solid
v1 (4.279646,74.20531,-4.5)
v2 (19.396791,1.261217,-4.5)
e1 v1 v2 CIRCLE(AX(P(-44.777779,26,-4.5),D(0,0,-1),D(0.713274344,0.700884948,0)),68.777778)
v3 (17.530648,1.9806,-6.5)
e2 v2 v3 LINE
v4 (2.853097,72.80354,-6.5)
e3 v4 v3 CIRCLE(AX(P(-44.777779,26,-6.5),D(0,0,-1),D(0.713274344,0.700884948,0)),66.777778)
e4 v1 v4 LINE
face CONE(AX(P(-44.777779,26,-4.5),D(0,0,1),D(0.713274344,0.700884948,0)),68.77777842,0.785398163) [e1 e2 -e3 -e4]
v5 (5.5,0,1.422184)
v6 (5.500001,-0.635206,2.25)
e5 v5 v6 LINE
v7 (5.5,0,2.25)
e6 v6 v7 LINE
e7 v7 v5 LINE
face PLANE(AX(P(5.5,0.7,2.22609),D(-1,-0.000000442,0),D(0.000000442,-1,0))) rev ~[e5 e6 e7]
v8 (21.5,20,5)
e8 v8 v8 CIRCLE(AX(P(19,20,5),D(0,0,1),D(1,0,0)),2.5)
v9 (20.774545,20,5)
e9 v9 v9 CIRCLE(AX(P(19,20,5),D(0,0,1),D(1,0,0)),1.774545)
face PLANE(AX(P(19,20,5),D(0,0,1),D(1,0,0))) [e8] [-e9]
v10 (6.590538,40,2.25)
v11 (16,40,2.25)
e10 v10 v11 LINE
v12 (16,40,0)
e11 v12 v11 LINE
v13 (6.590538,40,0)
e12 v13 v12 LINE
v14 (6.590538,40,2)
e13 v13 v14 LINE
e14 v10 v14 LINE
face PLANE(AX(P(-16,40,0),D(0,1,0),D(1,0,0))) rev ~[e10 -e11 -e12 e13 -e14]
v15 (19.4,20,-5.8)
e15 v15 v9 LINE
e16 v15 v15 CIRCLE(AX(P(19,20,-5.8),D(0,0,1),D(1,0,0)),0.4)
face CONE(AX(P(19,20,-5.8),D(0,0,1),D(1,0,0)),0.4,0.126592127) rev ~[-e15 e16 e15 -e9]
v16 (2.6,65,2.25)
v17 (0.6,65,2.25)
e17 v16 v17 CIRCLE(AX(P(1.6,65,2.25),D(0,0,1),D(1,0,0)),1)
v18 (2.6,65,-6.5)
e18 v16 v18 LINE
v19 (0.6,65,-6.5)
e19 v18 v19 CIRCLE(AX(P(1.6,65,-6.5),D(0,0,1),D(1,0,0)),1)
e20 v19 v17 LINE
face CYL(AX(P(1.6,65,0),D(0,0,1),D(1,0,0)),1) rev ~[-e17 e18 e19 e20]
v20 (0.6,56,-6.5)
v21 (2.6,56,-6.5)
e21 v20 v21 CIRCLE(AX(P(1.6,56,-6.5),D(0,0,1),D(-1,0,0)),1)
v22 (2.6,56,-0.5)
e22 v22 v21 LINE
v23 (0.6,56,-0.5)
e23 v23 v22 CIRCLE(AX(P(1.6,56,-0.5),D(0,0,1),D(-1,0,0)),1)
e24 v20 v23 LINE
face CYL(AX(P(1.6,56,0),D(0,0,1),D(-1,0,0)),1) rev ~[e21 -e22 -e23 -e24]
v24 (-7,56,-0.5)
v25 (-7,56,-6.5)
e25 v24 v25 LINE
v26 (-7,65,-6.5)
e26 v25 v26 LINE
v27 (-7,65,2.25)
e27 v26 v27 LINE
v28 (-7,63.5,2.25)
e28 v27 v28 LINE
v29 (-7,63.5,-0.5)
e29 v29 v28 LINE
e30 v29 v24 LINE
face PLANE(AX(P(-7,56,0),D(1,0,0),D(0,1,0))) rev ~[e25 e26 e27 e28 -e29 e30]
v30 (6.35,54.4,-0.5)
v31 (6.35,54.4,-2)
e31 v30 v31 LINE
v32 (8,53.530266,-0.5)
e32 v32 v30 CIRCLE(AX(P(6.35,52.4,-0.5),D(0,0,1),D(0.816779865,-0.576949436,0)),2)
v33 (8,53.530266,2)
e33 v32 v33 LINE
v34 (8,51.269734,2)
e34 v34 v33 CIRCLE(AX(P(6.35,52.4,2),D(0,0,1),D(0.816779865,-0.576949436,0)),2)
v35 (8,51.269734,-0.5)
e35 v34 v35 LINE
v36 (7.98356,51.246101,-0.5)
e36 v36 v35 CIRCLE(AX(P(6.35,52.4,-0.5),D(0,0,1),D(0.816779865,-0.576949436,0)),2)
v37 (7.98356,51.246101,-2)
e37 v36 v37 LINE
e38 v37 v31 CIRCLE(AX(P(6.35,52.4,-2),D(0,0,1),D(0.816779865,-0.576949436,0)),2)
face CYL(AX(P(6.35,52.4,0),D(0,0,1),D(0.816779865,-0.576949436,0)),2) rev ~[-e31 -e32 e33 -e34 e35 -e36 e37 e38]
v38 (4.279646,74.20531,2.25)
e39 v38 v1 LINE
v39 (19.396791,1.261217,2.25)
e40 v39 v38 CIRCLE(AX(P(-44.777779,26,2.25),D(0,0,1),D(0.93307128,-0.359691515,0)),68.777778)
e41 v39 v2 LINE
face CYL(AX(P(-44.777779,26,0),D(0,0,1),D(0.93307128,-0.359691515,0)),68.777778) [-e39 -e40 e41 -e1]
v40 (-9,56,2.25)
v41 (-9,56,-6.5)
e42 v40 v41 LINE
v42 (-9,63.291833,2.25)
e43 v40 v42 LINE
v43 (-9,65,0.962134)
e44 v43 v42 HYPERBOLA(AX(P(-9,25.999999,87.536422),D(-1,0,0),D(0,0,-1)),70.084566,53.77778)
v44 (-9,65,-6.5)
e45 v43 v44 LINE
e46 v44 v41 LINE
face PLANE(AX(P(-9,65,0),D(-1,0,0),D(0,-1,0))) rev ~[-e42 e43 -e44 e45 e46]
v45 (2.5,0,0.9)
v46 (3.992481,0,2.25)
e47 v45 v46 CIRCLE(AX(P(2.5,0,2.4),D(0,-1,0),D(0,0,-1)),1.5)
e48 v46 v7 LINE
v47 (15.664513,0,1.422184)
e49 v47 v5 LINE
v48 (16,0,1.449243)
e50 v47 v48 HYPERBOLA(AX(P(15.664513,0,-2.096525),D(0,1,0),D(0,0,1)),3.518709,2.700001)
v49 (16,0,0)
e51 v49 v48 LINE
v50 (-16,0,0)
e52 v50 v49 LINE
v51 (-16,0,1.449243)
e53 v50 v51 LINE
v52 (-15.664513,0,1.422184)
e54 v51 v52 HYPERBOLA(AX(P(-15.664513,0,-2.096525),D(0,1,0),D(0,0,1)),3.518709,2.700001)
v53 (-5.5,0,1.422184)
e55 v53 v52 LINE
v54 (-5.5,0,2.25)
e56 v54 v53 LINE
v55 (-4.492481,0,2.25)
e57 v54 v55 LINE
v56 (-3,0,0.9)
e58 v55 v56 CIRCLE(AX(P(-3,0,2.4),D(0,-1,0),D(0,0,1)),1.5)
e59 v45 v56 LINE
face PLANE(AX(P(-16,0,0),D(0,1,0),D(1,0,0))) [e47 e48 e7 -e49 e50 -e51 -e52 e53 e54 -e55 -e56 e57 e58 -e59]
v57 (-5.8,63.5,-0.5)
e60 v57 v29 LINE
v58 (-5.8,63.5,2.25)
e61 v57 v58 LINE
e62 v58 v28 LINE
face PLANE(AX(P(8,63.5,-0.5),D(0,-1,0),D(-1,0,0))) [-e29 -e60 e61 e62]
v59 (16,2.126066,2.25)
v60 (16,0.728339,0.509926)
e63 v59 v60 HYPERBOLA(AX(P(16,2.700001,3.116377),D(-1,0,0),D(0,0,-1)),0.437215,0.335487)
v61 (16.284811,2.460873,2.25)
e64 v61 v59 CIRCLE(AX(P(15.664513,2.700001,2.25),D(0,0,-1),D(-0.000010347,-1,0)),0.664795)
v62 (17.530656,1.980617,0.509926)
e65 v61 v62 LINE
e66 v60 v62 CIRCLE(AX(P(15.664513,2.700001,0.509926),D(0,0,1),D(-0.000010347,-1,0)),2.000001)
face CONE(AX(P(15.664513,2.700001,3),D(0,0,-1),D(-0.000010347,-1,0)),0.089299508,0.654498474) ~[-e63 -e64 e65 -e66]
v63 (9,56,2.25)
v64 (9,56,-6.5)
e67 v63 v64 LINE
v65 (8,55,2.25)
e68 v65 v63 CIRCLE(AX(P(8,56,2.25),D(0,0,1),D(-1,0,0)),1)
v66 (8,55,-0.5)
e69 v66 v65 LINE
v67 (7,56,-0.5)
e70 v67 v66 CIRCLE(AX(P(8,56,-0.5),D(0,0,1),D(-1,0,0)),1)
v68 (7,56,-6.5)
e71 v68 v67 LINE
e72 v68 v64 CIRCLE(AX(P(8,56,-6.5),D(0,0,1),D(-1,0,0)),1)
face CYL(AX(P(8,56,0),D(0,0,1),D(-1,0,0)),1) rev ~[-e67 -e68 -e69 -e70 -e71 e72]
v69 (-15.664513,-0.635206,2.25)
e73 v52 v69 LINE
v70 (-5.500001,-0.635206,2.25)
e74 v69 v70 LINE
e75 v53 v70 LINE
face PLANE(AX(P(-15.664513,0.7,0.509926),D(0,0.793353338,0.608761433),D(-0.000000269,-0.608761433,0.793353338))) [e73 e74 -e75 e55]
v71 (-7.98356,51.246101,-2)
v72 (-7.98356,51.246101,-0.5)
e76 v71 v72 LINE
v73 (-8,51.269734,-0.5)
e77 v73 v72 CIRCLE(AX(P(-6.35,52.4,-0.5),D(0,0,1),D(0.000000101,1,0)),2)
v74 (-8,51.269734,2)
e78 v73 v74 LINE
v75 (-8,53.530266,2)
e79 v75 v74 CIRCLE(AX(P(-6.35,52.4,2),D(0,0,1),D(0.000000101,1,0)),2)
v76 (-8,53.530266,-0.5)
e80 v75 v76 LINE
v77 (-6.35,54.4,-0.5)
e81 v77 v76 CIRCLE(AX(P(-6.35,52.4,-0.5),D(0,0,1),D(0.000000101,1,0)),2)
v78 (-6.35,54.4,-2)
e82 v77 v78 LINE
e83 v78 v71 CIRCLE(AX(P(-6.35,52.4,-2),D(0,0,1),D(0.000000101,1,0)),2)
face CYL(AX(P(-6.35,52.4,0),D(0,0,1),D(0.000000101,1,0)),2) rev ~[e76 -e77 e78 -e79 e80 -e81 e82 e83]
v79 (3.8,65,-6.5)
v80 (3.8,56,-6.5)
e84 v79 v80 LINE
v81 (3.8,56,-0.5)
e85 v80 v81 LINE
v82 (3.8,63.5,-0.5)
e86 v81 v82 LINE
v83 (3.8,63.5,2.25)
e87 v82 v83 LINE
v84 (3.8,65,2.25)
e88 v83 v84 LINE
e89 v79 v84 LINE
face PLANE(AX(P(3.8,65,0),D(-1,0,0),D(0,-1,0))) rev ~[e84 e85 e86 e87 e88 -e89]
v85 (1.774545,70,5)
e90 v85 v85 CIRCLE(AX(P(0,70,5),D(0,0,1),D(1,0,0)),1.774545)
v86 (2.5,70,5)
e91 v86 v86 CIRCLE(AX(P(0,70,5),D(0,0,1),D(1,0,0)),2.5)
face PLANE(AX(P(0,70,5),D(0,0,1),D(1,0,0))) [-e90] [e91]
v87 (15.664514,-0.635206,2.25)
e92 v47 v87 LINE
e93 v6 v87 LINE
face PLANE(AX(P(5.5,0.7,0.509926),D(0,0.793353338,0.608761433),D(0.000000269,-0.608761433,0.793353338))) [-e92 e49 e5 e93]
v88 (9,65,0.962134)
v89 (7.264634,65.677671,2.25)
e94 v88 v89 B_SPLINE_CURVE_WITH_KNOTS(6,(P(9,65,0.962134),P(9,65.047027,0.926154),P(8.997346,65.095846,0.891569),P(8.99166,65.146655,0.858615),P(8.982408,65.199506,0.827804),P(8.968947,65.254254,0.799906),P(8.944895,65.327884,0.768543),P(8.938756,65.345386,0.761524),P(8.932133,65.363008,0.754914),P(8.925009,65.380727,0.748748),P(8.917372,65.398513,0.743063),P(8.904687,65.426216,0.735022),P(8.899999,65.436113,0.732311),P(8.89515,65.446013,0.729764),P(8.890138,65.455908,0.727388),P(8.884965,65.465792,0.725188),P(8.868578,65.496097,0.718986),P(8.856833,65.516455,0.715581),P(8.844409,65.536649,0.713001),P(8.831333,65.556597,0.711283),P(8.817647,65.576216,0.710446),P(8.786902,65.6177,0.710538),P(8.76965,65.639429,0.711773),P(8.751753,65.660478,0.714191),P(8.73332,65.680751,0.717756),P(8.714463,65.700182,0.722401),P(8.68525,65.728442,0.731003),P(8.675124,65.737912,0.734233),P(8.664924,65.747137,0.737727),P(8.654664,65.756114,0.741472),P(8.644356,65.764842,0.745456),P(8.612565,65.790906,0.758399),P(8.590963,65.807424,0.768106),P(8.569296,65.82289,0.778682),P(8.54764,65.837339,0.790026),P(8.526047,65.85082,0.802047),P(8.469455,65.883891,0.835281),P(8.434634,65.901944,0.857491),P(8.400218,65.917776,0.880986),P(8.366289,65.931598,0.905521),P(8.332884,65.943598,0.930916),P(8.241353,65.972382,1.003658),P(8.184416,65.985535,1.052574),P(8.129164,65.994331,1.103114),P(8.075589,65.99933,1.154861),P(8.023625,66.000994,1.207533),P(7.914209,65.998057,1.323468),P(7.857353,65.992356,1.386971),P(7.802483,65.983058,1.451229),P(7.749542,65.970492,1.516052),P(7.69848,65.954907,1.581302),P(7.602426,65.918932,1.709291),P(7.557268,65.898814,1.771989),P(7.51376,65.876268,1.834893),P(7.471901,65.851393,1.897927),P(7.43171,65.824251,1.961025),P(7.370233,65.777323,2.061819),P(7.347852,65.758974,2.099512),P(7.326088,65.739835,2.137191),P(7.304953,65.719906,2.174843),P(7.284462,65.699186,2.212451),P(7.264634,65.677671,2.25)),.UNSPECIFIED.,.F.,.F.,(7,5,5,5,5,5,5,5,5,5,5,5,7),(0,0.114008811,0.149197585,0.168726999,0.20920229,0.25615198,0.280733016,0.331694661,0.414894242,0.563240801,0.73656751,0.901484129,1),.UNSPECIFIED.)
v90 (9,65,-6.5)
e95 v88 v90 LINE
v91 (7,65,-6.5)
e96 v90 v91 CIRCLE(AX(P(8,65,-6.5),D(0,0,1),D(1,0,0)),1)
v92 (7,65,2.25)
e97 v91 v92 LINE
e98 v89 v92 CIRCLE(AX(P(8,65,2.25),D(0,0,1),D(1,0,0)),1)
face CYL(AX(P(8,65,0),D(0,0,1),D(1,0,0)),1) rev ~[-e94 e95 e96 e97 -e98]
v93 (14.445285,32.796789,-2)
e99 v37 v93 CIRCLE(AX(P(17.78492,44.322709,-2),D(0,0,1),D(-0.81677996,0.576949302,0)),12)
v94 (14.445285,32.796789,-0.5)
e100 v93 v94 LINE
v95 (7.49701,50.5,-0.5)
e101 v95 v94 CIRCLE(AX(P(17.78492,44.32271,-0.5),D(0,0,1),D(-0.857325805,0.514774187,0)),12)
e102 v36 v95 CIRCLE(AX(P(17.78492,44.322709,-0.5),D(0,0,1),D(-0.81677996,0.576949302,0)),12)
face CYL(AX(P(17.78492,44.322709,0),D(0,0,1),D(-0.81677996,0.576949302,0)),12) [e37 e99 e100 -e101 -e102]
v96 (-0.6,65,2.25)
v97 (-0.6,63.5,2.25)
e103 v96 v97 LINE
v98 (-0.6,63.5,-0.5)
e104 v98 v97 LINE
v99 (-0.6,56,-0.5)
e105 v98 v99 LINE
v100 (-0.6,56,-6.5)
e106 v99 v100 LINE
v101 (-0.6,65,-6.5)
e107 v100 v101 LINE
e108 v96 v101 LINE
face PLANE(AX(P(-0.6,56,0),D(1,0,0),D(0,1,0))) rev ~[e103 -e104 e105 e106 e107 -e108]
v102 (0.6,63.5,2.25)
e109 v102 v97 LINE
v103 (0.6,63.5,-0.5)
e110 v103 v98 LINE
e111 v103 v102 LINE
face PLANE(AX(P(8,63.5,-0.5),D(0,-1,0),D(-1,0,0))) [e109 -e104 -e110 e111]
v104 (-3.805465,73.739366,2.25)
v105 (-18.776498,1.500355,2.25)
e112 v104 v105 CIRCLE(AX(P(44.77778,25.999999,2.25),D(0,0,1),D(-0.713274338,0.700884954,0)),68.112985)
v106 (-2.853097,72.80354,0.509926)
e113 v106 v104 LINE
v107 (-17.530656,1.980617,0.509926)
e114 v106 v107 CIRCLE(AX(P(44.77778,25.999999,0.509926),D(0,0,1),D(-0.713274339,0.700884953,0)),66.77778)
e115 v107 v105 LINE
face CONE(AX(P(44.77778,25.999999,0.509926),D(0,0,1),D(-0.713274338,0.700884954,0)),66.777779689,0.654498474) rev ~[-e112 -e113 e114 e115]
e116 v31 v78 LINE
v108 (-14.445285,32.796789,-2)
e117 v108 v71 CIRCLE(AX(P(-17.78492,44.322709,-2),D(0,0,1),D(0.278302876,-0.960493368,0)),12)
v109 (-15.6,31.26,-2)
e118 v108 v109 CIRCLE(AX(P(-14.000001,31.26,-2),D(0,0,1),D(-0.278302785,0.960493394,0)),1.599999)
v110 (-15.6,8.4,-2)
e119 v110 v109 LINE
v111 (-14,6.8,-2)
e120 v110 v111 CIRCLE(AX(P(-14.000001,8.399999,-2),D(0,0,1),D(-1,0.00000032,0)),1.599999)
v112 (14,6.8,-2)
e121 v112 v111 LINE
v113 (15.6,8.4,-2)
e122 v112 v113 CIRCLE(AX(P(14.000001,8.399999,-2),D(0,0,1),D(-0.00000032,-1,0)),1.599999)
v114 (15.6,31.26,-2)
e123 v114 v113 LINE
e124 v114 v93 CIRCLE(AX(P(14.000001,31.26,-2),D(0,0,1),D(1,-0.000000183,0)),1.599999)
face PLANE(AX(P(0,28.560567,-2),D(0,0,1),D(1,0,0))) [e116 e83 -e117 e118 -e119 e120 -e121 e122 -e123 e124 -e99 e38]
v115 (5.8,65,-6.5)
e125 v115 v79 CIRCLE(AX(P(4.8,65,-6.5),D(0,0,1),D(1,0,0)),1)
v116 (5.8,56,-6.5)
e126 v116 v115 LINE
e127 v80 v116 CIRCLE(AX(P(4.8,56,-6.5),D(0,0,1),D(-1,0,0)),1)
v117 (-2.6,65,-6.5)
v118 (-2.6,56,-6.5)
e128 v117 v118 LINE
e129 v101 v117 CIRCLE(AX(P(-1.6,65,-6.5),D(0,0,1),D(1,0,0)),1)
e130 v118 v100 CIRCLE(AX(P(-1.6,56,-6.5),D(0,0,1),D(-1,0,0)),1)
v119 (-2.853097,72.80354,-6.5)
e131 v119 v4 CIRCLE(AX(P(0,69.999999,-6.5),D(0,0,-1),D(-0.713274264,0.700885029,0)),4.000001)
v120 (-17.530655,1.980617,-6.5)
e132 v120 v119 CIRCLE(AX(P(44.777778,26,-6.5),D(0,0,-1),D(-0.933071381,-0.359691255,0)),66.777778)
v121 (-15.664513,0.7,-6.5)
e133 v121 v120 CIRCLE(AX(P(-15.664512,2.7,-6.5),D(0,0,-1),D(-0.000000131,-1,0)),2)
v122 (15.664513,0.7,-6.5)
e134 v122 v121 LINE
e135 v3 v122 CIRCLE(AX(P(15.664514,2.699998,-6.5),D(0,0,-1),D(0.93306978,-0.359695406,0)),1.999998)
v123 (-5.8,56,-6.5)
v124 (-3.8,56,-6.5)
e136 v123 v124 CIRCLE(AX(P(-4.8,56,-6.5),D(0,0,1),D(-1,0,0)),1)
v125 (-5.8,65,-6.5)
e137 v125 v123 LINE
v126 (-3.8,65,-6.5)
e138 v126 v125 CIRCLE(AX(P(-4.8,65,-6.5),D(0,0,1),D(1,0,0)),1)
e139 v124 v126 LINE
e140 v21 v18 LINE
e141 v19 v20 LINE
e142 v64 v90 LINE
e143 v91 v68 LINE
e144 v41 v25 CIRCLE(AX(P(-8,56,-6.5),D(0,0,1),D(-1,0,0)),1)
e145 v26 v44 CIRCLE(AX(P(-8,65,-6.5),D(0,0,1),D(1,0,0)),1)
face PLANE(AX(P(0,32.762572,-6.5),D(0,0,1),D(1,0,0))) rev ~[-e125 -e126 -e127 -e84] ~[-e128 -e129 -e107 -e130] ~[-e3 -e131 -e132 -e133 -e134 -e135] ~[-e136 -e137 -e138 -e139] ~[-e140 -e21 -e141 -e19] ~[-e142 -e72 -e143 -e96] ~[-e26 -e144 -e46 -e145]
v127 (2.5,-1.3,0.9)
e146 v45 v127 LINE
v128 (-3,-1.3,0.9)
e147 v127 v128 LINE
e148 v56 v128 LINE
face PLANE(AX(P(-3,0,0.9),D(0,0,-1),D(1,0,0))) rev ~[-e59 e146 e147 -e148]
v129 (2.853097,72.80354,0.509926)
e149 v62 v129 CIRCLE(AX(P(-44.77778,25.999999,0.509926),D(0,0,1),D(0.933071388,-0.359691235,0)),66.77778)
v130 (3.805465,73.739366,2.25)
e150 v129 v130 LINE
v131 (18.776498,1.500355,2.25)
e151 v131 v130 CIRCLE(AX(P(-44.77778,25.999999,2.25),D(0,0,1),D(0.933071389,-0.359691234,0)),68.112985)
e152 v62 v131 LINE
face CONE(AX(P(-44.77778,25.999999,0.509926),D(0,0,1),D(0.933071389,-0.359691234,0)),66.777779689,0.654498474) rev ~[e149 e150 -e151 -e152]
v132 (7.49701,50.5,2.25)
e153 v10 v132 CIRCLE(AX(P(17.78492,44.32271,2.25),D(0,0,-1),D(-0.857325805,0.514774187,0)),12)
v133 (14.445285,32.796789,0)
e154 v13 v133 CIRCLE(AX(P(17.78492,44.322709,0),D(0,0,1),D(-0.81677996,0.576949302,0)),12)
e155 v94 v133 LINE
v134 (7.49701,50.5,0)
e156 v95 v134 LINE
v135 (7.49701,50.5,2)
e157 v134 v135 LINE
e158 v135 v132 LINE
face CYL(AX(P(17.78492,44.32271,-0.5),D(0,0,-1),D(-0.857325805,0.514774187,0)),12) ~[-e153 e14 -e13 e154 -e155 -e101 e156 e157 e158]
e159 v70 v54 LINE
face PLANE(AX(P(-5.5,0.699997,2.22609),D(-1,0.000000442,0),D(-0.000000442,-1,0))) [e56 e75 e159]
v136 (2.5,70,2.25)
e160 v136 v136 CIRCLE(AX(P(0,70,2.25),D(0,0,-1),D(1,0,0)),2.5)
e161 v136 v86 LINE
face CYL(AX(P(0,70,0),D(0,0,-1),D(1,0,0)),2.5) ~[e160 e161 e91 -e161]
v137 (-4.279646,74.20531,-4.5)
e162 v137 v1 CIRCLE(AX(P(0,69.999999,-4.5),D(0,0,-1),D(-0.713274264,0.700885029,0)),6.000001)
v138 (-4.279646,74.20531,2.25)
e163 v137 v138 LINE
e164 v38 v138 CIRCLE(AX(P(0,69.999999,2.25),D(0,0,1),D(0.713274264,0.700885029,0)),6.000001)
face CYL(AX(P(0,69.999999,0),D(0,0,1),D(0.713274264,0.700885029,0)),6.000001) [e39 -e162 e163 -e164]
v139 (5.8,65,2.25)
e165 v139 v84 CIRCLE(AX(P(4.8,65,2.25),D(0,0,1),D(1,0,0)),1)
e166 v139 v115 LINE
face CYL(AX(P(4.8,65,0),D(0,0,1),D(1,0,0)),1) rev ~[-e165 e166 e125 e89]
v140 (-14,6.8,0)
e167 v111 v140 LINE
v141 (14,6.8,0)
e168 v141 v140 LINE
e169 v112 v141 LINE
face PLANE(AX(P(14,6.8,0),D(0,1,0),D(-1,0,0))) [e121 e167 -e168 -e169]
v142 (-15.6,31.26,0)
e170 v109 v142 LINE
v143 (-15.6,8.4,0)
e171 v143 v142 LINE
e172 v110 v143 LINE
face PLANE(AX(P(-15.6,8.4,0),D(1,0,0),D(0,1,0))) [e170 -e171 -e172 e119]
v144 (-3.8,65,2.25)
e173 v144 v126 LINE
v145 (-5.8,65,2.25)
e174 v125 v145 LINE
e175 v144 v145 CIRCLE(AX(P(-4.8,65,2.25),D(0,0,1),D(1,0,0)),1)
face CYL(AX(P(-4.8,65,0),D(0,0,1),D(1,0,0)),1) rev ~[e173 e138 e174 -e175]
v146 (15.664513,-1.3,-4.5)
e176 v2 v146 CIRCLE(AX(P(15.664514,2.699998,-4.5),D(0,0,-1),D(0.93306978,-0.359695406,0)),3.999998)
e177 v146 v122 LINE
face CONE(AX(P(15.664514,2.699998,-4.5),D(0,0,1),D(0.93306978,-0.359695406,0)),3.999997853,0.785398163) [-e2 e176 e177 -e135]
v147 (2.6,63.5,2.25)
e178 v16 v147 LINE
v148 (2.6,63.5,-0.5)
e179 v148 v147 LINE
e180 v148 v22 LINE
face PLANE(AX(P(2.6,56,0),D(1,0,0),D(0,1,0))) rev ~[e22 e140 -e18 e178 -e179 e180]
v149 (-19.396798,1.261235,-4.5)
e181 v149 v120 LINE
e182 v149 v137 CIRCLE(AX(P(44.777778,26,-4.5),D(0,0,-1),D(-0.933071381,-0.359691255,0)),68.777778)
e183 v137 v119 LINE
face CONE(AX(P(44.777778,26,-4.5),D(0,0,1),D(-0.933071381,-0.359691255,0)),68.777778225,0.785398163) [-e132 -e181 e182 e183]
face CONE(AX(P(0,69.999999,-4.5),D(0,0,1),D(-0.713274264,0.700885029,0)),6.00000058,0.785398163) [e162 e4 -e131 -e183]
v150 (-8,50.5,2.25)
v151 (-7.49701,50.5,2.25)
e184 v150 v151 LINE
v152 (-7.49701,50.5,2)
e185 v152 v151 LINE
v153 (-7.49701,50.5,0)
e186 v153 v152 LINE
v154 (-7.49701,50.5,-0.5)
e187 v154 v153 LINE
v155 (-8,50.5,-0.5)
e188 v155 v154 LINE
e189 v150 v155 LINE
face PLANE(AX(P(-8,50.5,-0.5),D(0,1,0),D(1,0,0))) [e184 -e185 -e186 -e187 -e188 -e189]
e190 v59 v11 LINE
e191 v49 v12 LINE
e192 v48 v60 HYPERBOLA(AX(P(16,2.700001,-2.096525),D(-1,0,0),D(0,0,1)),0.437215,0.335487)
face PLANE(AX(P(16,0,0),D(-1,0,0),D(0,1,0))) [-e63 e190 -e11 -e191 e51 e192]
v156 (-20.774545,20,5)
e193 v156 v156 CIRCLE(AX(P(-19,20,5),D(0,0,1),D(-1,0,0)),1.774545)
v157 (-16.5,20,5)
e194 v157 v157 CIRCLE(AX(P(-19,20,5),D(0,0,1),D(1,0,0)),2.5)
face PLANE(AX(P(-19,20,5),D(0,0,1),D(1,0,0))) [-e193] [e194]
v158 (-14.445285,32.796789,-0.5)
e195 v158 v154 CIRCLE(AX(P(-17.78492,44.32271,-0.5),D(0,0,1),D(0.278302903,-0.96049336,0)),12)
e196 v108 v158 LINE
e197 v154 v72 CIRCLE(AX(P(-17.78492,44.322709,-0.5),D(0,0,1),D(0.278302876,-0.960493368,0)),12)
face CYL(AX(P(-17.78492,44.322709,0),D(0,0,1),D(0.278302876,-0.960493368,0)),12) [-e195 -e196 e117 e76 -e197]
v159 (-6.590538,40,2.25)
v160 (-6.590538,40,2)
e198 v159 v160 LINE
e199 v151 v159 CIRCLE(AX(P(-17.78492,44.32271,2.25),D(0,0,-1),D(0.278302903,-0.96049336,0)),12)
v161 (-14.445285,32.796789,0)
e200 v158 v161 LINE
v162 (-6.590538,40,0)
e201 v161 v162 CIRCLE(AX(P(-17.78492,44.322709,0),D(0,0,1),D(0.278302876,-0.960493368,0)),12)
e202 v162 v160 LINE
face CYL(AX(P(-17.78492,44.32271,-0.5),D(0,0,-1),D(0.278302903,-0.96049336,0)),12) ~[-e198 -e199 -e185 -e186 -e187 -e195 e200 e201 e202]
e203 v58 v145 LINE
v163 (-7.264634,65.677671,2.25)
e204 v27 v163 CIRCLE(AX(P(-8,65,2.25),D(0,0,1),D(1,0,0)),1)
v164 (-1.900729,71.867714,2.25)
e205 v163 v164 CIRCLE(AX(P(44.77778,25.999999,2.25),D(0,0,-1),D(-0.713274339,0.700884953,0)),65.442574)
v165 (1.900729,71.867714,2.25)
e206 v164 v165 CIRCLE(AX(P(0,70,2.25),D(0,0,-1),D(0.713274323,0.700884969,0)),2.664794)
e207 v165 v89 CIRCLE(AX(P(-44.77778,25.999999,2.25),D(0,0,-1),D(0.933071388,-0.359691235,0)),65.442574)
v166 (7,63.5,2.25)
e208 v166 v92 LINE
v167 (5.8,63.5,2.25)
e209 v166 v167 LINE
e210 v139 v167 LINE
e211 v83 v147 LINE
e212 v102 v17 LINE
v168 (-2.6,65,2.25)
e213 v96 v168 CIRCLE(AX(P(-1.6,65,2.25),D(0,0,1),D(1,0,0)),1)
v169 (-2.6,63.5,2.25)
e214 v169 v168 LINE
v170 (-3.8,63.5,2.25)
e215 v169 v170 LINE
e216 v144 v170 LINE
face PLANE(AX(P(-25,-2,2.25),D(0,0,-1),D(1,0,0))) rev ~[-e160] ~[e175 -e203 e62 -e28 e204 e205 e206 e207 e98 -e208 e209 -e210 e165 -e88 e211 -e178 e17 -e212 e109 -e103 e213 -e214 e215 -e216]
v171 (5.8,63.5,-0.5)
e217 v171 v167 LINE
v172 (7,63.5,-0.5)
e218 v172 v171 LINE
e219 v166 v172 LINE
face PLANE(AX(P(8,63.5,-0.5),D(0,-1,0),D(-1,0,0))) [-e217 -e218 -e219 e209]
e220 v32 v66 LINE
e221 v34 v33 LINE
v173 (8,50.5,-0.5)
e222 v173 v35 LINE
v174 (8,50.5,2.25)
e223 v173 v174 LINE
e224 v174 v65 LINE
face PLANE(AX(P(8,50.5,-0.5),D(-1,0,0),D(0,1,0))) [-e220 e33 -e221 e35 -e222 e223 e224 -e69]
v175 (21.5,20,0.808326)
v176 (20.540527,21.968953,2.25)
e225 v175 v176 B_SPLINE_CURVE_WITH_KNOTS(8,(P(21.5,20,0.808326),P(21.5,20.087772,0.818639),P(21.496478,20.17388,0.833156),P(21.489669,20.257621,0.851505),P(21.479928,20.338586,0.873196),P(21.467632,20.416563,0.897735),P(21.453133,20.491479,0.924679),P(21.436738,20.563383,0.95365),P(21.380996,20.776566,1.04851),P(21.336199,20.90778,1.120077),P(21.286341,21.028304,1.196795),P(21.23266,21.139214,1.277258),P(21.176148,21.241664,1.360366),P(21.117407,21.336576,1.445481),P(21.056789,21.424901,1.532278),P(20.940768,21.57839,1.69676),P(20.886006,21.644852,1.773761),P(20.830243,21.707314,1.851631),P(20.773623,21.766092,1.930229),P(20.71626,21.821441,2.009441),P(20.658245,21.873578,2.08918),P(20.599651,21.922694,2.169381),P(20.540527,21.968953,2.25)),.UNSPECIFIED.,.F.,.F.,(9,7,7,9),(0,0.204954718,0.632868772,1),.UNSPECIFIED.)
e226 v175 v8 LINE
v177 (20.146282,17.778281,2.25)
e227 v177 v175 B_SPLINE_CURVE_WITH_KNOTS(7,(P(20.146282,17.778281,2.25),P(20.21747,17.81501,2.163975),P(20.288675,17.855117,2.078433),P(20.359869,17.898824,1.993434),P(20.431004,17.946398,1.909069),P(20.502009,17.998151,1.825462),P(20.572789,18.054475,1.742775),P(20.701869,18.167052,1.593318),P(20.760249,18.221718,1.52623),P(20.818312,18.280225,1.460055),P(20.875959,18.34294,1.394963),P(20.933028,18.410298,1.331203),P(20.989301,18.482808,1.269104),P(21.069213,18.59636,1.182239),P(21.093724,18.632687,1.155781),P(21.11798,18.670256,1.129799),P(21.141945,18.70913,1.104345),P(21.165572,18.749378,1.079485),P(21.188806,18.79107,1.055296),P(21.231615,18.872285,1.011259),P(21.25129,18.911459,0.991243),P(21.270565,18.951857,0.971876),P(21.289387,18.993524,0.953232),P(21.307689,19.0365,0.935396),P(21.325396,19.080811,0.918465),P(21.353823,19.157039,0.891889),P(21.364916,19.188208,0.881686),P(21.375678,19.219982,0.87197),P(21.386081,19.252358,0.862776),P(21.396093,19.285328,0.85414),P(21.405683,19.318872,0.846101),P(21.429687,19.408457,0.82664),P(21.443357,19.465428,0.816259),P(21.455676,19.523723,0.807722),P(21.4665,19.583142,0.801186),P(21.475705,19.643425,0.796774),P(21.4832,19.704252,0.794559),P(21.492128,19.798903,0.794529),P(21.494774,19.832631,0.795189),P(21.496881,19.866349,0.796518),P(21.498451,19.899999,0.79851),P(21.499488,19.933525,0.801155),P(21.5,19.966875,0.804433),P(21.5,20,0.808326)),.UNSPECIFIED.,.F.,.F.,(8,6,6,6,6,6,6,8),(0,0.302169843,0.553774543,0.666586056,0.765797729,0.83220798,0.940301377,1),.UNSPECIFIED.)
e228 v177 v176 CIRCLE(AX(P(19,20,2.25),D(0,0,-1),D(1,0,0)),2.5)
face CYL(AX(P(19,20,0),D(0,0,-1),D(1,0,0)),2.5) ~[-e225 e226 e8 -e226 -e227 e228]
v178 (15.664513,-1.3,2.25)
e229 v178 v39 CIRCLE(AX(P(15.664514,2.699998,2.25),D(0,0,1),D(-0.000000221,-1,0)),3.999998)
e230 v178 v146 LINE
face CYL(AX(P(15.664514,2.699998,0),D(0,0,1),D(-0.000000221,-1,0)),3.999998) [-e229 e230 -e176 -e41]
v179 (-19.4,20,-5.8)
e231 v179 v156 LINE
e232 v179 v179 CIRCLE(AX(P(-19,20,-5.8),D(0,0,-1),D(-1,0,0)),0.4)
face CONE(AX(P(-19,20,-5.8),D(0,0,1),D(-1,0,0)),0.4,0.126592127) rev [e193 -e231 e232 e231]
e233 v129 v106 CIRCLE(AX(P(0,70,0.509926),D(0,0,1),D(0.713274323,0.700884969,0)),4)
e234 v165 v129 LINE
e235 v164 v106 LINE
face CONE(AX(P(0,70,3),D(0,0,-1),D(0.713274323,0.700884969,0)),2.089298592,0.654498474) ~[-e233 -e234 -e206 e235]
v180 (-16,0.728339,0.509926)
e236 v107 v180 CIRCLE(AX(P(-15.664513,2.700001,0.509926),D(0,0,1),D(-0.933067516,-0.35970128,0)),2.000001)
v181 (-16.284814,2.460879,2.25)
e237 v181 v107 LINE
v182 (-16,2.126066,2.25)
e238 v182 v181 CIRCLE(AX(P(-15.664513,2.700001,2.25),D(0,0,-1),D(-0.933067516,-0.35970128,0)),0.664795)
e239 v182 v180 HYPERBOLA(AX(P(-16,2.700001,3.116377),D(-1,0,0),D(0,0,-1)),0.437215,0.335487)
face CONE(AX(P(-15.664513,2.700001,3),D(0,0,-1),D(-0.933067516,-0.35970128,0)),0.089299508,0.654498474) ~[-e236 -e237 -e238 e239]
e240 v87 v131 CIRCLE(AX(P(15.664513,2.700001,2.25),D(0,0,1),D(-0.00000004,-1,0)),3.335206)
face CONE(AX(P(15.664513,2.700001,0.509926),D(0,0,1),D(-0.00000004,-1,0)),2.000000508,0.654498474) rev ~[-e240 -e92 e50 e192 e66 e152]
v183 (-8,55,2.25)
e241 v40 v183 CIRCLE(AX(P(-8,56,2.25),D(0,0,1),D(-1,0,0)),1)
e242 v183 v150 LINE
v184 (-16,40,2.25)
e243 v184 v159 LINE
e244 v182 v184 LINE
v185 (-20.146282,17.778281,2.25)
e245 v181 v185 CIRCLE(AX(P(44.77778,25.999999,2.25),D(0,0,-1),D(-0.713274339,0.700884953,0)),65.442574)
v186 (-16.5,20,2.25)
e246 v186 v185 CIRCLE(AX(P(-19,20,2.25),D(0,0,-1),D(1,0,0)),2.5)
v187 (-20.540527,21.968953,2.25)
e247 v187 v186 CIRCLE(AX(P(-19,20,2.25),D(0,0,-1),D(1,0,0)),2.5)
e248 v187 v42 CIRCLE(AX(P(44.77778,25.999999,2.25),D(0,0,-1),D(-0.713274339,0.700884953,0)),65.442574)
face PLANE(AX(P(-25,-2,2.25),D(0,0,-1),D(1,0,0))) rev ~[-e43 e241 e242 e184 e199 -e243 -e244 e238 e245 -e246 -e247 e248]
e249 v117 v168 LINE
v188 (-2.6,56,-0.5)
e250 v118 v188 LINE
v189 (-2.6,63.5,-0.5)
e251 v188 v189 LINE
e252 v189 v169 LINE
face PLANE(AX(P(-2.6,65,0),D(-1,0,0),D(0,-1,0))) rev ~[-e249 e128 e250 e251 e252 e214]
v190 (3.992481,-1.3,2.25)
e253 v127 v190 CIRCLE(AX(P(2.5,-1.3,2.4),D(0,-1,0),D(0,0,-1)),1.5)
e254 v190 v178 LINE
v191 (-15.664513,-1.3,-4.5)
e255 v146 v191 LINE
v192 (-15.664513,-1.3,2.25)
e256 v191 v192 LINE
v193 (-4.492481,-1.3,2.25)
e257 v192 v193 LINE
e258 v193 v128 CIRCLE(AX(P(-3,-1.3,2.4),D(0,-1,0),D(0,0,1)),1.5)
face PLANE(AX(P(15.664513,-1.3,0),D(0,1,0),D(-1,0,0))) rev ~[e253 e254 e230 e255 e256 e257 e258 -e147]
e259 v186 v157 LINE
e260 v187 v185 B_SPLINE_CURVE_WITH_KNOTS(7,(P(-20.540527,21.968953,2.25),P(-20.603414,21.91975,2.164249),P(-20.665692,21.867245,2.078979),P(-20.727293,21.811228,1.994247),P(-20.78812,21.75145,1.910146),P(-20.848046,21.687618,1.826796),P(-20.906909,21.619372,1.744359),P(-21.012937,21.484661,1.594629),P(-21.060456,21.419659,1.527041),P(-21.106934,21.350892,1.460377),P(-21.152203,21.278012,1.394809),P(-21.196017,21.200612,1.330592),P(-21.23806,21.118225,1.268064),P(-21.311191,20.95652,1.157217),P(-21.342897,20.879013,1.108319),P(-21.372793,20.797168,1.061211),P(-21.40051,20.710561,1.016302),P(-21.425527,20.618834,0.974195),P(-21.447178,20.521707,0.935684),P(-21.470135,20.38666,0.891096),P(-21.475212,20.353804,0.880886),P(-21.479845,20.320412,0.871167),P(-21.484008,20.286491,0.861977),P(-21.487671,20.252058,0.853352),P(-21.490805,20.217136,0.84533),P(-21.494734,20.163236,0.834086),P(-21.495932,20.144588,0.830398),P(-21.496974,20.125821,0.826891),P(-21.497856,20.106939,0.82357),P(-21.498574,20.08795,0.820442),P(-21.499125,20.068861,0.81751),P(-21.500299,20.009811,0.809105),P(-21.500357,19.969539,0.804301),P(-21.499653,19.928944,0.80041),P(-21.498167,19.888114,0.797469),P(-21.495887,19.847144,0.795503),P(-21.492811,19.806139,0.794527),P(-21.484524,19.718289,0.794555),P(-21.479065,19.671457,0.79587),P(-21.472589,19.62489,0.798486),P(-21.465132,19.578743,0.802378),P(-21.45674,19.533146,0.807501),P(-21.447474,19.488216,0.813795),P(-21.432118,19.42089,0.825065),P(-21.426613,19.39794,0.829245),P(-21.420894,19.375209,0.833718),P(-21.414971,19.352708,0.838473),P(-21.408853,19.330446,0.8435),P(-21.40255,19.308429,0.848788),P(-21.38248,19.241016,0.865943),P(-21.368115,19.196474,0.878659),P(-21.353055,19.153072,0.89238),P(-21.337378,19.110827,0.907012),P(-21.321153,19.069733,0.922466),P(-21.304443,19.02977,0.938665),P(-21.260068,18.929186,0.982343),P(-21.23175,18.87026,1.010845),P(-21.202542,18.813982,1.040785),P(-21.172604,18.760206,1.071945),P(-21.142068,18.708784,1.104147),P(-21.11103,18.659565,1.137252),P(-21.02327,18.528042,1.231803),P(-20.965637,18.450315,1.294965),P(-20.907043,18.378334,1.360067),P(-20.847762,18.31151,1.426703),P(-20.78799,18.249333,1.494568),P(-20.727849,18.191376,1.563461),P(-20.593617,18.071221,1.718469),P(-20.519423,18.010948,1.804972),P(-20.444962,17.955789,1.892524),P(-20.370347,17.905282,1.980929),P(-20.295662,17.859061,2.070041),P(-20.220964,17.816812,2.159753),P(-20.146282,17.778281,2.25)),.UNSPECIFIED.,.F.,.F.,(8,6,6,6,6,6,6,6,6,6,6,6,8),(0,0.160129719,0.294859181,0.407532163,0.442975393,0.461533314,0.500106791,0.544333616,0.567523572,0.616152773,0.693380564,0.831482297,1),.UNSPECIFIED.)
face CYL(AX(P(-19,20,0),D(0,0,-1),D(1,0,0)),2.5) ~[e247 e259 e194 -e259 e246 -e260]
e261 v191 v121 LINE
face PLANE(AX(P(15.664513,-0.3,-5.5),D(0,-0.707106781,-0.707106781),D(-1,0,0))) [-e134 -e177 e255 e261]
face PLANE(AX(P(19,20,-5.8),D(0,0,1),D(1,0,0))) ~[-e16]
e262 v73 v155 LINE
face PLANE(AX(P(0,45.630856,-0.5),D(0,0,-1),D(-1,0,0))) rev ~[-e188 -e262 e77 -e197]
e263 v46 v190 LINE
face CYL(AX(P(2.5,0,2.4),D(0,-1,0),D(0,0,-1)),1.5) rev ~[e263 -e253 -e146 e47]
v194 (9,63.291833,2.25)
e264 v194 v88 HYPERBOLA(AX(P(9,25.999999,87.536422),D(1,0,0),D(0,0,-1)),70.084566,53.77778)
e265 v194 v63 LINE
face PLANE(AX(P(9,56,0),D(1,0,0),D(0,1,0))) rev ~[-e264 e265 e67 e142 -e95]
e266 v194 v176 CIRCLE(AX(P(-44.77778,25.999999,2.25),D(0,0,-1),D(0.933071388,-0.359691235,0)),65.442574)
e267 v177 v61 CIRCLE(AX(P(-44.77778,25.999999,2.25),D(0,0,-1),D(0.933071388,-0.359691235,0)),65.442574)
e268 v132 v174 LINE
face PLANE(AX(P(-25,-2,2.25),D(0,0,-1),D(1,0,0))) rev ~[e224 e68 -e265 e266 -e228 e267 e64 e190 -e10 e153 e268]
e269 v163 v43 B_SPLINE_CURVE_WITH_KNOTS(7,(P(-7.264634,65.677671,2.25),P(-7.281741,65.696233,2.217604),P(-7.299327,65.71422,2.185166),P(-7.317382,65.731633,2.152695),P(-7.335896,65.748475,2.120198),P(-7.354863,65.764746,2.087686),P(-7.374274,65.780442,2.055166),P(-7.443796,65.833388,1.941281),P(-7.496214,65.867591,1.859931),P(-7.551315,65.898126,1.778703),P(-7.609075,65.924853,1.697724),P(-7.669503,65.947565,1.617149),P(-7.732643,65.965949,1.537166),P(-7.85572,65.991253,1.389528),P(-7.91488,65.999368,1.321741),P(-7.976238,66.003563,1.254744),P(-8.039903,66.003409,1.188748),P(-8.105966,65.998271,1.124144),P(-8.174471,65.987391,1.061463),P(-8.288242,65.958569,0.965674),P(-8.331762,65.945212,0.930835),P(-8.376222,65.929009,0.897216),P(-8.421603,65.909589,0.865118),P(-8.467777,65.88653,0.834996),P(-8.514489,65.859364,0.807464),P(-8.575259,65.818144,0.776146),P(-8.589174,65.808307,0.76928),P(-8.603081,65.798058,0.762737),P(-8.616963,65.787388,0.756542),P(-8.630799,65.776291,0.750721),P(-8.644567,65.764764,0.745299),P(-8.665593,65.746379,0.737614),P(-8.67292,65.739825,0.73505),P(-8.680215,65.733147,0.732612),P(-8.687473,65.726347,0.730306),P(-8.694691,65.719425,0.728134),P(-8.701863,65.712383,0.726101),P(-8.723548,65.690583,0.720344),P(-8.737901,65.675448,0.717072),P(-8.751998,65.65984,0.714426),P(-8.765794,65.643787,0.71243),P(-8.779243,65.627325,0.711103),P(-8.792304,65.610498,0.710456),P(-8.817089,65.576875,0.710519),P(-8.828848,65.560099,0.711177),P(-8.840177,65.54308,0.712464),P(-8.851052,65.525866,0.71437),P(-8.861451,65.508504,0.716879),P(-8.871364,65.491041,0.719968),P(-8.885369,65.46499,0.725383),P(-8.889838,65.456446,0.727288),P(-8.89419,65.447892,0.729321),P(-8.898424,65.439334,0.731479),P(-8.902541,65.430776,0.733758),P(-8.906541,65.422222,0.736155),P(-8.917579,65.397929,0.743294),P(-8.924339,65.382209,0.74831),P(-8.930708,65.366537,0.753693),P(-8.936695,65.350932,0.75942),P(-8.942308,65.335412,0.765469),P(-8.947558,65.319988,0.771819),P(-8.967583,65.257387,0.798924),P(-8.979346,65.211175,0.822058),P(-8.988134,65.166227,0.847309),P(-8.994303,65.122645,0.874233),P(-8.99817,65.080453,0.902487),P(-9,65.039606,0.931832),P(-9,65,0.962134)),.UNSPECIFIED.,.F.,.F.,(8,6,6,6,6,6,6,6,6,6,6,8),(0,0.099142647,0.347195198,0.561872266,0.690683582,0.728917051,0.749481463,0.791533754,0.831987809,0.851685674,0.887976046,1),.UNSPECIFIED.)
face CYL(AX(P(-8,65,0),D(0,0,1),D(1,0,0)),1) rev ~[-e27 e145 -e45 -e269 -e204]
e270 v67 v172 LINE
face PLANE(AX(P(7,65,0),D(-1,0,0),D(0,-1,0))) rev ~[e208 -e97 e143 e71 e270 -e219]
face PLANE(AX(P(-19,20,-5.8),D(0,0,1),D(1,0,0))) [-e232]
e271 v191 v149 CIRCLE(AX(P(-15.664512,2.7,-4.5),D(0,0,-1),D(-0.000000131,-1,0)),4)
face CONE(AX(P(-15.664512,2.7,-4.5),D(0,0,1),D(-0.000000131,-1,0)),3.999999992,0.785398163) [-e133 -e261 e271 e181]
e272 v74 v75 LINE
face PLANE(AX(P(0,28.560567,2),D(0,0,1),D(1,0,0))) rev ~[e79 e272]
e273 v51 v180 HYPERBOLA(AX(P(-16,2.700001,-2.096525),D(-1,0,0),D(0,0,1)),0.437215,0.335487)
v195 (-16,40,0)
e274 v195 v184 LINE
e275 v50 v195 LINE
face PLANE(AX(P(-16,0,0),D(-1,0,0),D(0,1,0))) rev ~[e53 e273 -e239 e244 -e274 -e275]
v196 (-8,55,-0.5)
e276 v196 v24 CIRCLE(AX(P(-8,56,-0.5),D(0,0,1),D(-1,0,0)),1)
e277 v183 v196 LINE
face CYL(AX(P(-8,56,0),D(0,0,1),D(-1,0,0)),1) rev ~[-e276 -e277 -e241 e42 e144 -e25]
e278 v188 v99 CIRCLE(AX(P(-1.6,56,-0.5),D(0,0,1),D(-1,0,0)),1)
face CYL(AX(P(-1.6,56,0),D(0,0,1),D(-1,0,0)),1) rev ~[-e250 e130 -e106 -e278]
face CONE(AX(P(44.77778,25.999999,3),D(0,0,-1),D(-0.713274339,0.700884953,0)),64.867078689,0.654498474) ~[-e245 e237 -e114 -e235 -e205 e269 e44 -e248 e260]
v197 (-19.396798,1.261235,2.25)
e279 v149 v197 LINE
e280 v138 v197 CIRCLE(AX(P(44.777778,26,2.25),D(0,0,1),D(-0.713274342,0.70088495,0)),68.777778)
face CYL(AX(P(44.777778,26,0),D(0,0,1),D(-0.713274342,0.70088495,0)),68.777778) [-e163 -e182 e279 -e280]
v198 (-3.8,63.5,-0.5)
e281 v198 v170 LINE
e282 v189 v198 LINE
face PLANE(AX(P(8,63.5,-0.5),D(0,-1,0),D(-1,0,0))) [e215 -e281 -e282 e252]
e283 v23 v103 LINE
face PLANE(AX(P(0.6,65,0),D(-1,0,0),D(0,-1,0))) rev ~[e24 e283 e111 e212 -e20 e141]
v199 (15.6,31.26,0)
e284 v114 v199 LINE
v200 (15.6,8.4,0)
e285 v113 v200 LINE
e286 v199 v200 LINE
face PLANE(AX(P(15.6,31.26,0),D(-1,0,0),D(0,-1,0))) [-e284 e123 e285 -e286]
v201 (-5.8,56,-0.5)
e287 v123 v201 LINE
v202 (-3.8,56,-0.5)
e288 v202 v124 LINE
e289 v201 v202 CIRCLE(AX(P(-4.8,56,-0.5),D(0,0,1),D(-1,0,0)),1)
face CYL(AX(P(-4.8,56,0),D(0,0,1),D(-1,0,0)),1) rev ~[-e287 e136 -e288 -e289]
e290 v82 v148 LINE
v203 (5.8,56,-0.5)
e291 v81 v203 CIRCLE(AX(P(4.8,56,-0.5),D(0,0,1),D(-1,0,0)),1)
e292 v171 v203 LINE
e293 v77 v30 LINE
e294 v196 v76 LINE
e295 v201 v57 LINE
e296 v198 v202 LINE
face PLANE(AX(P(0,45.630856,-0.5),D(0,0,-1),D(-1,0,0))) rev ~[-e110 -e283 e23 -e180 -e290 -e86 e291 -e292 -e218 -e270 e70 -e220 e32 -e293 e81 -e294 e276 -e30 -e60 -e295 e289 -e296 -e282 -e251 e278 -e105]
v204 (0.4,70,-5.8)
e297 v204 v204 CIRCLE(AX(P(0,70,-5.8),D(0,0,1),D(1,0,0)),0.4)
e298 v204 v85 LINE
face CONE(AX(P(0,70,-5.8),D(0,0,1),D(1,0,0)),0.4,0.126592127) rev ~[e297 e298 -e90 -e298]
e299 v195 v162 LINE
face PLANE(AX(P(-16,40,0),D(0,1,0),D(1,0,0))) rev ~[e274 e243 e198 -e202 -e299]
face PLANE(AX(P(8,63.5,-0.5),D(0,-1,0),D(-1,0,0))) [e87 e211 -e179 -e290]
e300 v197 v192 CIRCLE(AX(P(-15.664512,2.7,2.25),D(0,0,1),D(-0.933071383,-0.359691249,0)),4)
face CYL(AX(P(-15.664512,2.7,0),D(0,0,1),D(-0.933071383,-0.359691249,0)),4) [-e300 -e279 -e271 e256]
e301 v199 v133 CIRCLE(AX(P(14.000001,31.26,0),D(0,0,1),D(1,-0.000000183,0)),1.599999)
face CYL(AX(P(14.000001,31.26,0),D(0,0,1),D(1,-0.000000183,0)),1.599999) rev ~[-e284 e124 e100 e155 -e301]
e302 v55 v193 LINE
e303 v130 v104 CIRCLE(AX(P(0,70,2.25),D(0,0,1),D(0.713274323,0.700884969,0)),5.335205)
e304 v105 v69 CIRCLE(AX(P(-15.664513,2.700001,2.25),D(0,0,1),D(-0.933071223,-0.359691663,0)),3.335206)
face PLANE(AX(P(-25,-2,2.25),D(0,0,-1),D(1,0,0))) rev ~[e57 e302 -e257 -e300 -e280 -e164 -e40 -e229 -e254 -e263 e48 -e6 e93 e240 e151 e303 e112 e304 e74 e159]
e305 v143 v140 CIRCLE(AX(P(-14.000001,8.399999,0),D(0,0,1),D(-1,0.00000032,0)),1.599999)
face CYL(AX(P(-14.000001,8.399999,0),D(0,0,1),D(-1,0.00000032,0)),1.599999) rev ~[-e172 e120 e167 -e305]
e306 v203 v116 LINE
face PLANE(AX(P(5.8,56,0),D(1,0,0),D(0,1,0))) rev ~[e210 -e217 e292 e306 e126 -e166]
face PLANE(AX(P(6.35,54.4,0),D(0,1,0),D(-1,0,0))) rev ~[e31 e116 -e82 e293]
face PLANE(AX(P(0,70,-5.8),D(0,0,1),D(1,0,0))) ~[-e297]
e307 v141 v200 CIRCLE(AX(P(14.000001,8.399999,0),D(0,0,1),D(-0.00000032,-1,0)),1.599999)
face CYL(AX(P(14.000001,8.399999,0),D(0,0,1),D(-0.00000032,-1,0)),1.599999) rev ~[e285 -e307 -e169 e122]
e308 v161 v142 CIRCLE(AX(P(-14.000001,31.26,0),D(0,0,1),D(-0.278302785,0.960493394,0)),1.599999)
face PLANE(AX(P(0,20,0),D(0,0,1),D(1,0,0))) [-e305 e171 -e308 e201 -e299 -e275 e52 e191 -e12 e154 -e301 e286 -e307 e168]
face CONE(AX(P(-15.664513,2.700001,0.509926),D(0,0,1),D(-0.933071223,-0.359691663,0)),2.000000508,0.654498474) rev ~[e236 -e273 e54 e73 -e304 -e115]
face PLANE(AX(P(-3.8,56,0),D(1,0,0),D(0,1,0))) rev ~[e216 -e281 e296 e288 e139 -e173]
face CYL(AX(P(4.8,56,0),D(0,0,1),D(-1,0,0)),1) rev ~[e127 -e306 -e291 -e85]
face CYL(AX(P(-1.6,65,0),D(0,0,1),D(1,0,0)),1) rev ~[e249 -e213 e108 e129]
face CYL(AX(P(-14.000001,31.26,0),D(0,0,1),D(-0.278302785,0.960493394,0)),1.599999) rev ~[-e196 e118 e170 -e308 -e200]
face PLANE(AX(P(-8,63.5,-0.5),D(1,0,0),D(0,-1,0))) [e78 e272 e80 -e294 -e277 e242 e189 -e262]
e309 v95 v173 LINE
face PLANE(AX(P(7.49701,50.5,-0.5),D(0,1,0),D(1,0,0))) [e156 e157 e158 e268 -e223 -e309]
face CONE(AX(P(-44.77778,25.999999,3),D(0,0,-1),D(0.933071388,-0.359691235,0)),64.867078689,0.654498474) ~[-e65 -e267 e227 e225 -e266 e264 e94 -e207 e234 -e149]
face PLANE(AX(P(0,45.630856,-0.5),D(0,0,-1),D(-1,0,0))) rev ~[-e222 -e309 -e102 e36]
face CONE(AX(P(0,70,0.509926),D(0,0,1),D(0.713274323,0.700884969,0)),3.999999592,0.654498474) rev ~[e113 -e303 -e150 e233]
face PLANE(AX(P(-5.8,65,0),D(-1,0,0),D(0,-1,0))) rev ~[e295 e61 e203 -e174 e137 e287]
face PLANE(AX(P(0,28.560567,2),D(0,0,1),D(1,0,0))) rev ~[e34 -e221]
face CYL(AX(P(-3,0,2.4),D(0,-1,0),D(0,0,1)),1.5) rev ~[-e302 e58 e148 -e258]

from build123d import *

# Parameters (mm, degrees)
PAD011_DEPTH           = 6.5
CHAMFER_SIZE           = 2
SKETCH020_W            = 32
SKETCH020_H            = 40
POCKET004_DEPTH        = 4.5
SKETCH021_W            = 16
SKETCH021_H            = 13
POCKET005_DEPTH        = 3
POCKET006_DEPTH        = 2
PAD012_DEPTH           = 2.5
POCKET007_DEPTH        = 5
POCKET008_DEPTH        = 6.501
LINEARPATTERN001_COUNT = 6
LINEARPATTERN001_PITCH = 2.8
POCKET009_DEPTH        = 6.501
POCKET009_DEPTH_BACK   = 6.501
LINEARPATTERN002_COUNT = 6
LINEARPATTERN002_PITCH = 3.2
SKETCH043_W            = 50
SKETCH043_H            = 9.25
PAD015_DEPTH           = 80
POCKET010_DEPTH        = 2.751
SKETCH044_R            = 2.5
PAD016_DEPTH           = 5


with BuildPart() as housing:
    # Sketch019 → Pad011 (new body, symmetric)
    with BuildSketch(Plane.XY):
        with BuildLine():
            ThreePointArc((4.279646, 74.20531), (0, 76), (-4.279646, 74.20531))
            ThreePointArc((-4.279646, 74.20531), (-22.568944, 39.95714), (-19.396798, 1.261235))
            ThreePointArc((-19.396798, 1.261235), (-17.9278, -0.59811), (-15.664513, -1.3))
            Line((15.664513, -1.3), (-15.664513, -1.3))
            ThreePointArc((15.664513, -1.3), (17.927792, -0.598116), (19.396791, 1.261217))
            ThreePointArc((19.396791, 1.261217), (22.568946, 39.95713), (4.279646, 74.20531))
        make_face()
    extrude(amount=PAD011_DEPTH, both=True)

    # Chamfer
    chamfer_edges = [housing.edges().sort_by_distance(p)[0] for p in [
        (0, -1.3, 6.5),
        (0, -1.3, -6.5),
    ]]
    chamfer(chamfer_edges, length=CHAMFER_SIZE)

    # Sketch020 → Pocket004 (cut)
    with BuildSketch(Plane.XY):
        with Locations((0, 20)):
            Rectangle(SKETCH020_W, SKETCH020_H)
    extrude(amount=POCKET004_DEPTH, mode=Mode.SUBTRACT)

    # Sketch021 → Pocket005 (cut)
    with BuildSketch(Plane.XY):
        with Locations((0, 57)):
            Rectangle(SKETCH021_W, SKETCH021_H)
    extrude(amount=POCKET005_DEPTH, mode=Mode.SUBTRACT)

    # Sketch022 → Pocket006 (cut, symmetric)
    with BuildSketch(Plane.XY):
        with BuildLine():
            ThreePointArc((-6.35, 54.4), (-8.125922, 53.319838), (-7.98356, 51.246101))
            ThreePointArc((-14.445285, 32.796789), (-6.459474, 40.356063), (-7.98356, 51.246101))
            ThreePointArc((-14.445285, 32.796789), (-15.279151, 32.221131), (-15.6, 31.26))
            Line((-15.6, 8.4), (-15.6, 31.26))
            ThreePointArc((-15.6, 8.4), (-15.131371, 7.268629), (-14, 6.8))
            Line((14, 6.8), (-14, 6.8))
            ThreePointArc((14, 6.8), (15.131371, 7.268629), (15.6, 8.4))
            Line((15.6, 31.26), (15.6, 8.4))
            ThreePointArc((15.6, 31.26), (15.279151, 32.221131), (14.445285, 32.796789))
            ThreePointArc((7.98356, 51.246101), (6.459474, 40.356063), (14.445285, 32.796789))
            ThreePointArc((7.98356, 51.246101), (8.125922, 53.319838), (6.35, 54.4))
            Line((6.35, 54.4), (-6.35, 54.4))
        make_face()
    extrude(amount=POCKET006_DEPTH, both=True, mode=Mode.SUBTRACT)

    # Sketch039 → Pad012 (join)
    with BuildSketch(Plane.XY.offset(-0.5)):
        with BuildLine():
            ThreePointArc((-4.584919, 45.32271), (-5.584919, 44.32271), (-4.584919, 43.32271))
            Line((-4.584919, 43.32271), (4.584919, 43.32271))
            ThreePointArc((4.584919, 43.32271), (5.584919, 44.32271), (4.584919, 45.32271))
            Line((4.584919, 45.32271), (-4.584919, 45.32271))
        make_face()
    extrude(amount=PAD012_DEPTH)

    # Sketch023 → Pocket007 (cut, symmetric)
    with BuildSketch(Plane.XZ):
        with BuildLine():
            ThreePointArc((-3, 3.9), (-4.5, 2.4), (-3, 0.9))
            Line((-3, 0.9), (2.5, 0.9))
            ThreePointArc((2.5, 0.9), (4, 2.4), (2.5, 3.9))
            Line((2.5, 3.9), (-3, 3.9))
        make_face()
    extrude(amount=POCKET007_DEPTH, both=True, mode=Mode.SUBTRACT)

    # Sketch025 → Pocket008 (cut, through all)
    with BuildSketch(Plane.XY):
        with BuildLine():
            ThreePointArc((-6.25, 32.5), (-7, 33.25), (-7.75, 32.5))
            Line((-7.75, 32.5), (-7.75, 13.5))
            ThreePointArc((-7.75, 13.5), (-7, 12.75), (-6.25, 13.5))
            Line((-6.25, 13.5), (-6.25, 32.5))
        make_face()
    pocket008 = extrude(amount=POCKET008_DEPTH, mode=Mode.SUBTRACT)

    # LinearPattern001: Pocket008 ×6
    with Locations(*[(i * LINEARPATTERN001_PITCH, 0, 0) for i in range(1, LINEARPATTERN001_COUNT)]):
        add(pocket008, mode=Mode.SUBTRACT)

    # Sketch026 → Pocket009 (cut, two sides)
    with BuildSketch(Plane.XY) as pocket009_sk:
        with BuildLine():
            ThreePointArc((-7, 65), (-8, 66), (-9, 65))
            Line((-9, 65), (-9, 56))
            ThreePointArc((-9, 56), (-8, 55), (-7, 56))
            Line((-7, 56), (-7, 65))
        make_face()
    pocket009 = extrude(amount=-POCKET009_DEPTH, mode=Mode.SUBTRACT) + extrude(pocket009_sk.sketch, amount=POCKET009_DEPTH_BACK, mode=Mode.SUBTRACT)

    # LinearPattern002: Pocket009 ×6
    with Locations(*[(i * LINEARPATTERN002_PITCH, 0, 0) for i in range(1, LINEARPATTERN002_COUNT)]):
        add(pocket009, mode=Mode.SUBTRACT)

    # Sketch027 → Groove (revolve, cut)
    with BuildSketch(Plane.XZ.offset(-20)):
        Polygon((19, 6.7), (19, -5.8), (19.4, -5.8), (20.8, 5.2), (22.3, 6.7), align=None)
    groove = revolve(axis=Axis((19, 20, 6.7), (0, 0, 1)), mode=Mode.SUBTRACT)

    # Mirrored: Groove across YZ
    add(groove.mirror(Plane.YZ), mode=Mode.SUBTRACT)

    # Sketch028 → Groove001 (revolve, cut)
    with BuildSketch(Plane.XZ.offset(-70)):
        Polygon((0, 6.7), (0, -5.8), (0.4, -5.8), (1.8, 5.2), (3.3, 6.7), align=None)
    revolve(axis=Axis((0, 70, 6.7), (0, 0, 1)), mode=Mode.SUBTRACT)


with BuildPart() as bottom_housing:
    # Sketch043 → Pad015 (new body)
    with BuildSketch(Plane.XZ.offset(2)):
        with Locations((0, -2.375)):
            Rectangle(SKETCH043_W, SKETCH043_H)
    extrude(amount=-PAD015_DEPTH)

    # SubtractivePipe: sweep along a path in Sketch036
    with BuildLine(Plane.XY) as subtractivepipe_path:
        Line((5.5, 0.7), (15.664513, 0.7))
        ThreePointArc((15.664513, 0.7), (16.796157, 1.050945), (17.530656, 1.980617))
        ThreePointArc((17.530656, 1.980617), (20.610558, 39.551278), (2.853097, 72.80354))
        ThreePointArc((2.853097, 72.80354), (0, 74), (-2.853097, 72.80354))
        ThreePointArc((-2.853097, 72.80354), (-20.610558, 39.551278), (-17.530656, 1.980617))
        ThreePointArc((-17.530656, 1.980617), (-16.796157, 1.050945), (-15.664513, 0.7))
        Line((-15.664513, 0.7), (-5.5, 0.7))
    # Sketch037 → SubtractivePipe (sweep, cut)
    with BuildSketch(Plane.YZ):
        Polygon((72.089299, 3), (74, 0.509926), (75.910701, 3), align=None)
    sweep(path=subtractivepipe_path.line, mode=Mode.SUBTRACT)

    # Sketch038 → Pocket010 (cut, through all)
    with BuildSketch(Plane.XY.offset(-0.5)):
        with BuildLine():
            ThreePointArc((7.49701, 50.5), (6.614494, 39.938466), (14.445285, 32.796789))
            Line((14.445285, 32.796789), (-14.445285, 32.796789))
            ThreePointArc((-14.445285, 32.796789), (-6.614494, 39.938466), (-7.49701, 50.5))
            Line((-8, 50.5), (-7.49701, 50.5))
            Line((-8, 63.5), (-8, 50.5))
            Line((8, 63.5), (-8, 63.5))
            Line((8, 50.5), (8, 63.5))
            Line((7.49701, 50.5), (8, 50.5))
        make_face()
    extrude(amount=POCKET010_DEPTH, mode=Mode.SUBTRACT)

    # Sketch044 → Pad016 (join)
    with BuildSketch(Plane.XY):
        with Locations((0, 70)):
            Circle(SKETCH044_R)
        with Locations((-19, 20)):
            Circle(SKETCH044_R)
        with Locations((19, 20)):
            Circle(SKETCH044_R)
    extrude(amount=PAD016_DEPTH)

    # Common001: intersect Housing
    add(housing.part, mode=Mode.INTERSECT)


solid = bottom_housing.part
